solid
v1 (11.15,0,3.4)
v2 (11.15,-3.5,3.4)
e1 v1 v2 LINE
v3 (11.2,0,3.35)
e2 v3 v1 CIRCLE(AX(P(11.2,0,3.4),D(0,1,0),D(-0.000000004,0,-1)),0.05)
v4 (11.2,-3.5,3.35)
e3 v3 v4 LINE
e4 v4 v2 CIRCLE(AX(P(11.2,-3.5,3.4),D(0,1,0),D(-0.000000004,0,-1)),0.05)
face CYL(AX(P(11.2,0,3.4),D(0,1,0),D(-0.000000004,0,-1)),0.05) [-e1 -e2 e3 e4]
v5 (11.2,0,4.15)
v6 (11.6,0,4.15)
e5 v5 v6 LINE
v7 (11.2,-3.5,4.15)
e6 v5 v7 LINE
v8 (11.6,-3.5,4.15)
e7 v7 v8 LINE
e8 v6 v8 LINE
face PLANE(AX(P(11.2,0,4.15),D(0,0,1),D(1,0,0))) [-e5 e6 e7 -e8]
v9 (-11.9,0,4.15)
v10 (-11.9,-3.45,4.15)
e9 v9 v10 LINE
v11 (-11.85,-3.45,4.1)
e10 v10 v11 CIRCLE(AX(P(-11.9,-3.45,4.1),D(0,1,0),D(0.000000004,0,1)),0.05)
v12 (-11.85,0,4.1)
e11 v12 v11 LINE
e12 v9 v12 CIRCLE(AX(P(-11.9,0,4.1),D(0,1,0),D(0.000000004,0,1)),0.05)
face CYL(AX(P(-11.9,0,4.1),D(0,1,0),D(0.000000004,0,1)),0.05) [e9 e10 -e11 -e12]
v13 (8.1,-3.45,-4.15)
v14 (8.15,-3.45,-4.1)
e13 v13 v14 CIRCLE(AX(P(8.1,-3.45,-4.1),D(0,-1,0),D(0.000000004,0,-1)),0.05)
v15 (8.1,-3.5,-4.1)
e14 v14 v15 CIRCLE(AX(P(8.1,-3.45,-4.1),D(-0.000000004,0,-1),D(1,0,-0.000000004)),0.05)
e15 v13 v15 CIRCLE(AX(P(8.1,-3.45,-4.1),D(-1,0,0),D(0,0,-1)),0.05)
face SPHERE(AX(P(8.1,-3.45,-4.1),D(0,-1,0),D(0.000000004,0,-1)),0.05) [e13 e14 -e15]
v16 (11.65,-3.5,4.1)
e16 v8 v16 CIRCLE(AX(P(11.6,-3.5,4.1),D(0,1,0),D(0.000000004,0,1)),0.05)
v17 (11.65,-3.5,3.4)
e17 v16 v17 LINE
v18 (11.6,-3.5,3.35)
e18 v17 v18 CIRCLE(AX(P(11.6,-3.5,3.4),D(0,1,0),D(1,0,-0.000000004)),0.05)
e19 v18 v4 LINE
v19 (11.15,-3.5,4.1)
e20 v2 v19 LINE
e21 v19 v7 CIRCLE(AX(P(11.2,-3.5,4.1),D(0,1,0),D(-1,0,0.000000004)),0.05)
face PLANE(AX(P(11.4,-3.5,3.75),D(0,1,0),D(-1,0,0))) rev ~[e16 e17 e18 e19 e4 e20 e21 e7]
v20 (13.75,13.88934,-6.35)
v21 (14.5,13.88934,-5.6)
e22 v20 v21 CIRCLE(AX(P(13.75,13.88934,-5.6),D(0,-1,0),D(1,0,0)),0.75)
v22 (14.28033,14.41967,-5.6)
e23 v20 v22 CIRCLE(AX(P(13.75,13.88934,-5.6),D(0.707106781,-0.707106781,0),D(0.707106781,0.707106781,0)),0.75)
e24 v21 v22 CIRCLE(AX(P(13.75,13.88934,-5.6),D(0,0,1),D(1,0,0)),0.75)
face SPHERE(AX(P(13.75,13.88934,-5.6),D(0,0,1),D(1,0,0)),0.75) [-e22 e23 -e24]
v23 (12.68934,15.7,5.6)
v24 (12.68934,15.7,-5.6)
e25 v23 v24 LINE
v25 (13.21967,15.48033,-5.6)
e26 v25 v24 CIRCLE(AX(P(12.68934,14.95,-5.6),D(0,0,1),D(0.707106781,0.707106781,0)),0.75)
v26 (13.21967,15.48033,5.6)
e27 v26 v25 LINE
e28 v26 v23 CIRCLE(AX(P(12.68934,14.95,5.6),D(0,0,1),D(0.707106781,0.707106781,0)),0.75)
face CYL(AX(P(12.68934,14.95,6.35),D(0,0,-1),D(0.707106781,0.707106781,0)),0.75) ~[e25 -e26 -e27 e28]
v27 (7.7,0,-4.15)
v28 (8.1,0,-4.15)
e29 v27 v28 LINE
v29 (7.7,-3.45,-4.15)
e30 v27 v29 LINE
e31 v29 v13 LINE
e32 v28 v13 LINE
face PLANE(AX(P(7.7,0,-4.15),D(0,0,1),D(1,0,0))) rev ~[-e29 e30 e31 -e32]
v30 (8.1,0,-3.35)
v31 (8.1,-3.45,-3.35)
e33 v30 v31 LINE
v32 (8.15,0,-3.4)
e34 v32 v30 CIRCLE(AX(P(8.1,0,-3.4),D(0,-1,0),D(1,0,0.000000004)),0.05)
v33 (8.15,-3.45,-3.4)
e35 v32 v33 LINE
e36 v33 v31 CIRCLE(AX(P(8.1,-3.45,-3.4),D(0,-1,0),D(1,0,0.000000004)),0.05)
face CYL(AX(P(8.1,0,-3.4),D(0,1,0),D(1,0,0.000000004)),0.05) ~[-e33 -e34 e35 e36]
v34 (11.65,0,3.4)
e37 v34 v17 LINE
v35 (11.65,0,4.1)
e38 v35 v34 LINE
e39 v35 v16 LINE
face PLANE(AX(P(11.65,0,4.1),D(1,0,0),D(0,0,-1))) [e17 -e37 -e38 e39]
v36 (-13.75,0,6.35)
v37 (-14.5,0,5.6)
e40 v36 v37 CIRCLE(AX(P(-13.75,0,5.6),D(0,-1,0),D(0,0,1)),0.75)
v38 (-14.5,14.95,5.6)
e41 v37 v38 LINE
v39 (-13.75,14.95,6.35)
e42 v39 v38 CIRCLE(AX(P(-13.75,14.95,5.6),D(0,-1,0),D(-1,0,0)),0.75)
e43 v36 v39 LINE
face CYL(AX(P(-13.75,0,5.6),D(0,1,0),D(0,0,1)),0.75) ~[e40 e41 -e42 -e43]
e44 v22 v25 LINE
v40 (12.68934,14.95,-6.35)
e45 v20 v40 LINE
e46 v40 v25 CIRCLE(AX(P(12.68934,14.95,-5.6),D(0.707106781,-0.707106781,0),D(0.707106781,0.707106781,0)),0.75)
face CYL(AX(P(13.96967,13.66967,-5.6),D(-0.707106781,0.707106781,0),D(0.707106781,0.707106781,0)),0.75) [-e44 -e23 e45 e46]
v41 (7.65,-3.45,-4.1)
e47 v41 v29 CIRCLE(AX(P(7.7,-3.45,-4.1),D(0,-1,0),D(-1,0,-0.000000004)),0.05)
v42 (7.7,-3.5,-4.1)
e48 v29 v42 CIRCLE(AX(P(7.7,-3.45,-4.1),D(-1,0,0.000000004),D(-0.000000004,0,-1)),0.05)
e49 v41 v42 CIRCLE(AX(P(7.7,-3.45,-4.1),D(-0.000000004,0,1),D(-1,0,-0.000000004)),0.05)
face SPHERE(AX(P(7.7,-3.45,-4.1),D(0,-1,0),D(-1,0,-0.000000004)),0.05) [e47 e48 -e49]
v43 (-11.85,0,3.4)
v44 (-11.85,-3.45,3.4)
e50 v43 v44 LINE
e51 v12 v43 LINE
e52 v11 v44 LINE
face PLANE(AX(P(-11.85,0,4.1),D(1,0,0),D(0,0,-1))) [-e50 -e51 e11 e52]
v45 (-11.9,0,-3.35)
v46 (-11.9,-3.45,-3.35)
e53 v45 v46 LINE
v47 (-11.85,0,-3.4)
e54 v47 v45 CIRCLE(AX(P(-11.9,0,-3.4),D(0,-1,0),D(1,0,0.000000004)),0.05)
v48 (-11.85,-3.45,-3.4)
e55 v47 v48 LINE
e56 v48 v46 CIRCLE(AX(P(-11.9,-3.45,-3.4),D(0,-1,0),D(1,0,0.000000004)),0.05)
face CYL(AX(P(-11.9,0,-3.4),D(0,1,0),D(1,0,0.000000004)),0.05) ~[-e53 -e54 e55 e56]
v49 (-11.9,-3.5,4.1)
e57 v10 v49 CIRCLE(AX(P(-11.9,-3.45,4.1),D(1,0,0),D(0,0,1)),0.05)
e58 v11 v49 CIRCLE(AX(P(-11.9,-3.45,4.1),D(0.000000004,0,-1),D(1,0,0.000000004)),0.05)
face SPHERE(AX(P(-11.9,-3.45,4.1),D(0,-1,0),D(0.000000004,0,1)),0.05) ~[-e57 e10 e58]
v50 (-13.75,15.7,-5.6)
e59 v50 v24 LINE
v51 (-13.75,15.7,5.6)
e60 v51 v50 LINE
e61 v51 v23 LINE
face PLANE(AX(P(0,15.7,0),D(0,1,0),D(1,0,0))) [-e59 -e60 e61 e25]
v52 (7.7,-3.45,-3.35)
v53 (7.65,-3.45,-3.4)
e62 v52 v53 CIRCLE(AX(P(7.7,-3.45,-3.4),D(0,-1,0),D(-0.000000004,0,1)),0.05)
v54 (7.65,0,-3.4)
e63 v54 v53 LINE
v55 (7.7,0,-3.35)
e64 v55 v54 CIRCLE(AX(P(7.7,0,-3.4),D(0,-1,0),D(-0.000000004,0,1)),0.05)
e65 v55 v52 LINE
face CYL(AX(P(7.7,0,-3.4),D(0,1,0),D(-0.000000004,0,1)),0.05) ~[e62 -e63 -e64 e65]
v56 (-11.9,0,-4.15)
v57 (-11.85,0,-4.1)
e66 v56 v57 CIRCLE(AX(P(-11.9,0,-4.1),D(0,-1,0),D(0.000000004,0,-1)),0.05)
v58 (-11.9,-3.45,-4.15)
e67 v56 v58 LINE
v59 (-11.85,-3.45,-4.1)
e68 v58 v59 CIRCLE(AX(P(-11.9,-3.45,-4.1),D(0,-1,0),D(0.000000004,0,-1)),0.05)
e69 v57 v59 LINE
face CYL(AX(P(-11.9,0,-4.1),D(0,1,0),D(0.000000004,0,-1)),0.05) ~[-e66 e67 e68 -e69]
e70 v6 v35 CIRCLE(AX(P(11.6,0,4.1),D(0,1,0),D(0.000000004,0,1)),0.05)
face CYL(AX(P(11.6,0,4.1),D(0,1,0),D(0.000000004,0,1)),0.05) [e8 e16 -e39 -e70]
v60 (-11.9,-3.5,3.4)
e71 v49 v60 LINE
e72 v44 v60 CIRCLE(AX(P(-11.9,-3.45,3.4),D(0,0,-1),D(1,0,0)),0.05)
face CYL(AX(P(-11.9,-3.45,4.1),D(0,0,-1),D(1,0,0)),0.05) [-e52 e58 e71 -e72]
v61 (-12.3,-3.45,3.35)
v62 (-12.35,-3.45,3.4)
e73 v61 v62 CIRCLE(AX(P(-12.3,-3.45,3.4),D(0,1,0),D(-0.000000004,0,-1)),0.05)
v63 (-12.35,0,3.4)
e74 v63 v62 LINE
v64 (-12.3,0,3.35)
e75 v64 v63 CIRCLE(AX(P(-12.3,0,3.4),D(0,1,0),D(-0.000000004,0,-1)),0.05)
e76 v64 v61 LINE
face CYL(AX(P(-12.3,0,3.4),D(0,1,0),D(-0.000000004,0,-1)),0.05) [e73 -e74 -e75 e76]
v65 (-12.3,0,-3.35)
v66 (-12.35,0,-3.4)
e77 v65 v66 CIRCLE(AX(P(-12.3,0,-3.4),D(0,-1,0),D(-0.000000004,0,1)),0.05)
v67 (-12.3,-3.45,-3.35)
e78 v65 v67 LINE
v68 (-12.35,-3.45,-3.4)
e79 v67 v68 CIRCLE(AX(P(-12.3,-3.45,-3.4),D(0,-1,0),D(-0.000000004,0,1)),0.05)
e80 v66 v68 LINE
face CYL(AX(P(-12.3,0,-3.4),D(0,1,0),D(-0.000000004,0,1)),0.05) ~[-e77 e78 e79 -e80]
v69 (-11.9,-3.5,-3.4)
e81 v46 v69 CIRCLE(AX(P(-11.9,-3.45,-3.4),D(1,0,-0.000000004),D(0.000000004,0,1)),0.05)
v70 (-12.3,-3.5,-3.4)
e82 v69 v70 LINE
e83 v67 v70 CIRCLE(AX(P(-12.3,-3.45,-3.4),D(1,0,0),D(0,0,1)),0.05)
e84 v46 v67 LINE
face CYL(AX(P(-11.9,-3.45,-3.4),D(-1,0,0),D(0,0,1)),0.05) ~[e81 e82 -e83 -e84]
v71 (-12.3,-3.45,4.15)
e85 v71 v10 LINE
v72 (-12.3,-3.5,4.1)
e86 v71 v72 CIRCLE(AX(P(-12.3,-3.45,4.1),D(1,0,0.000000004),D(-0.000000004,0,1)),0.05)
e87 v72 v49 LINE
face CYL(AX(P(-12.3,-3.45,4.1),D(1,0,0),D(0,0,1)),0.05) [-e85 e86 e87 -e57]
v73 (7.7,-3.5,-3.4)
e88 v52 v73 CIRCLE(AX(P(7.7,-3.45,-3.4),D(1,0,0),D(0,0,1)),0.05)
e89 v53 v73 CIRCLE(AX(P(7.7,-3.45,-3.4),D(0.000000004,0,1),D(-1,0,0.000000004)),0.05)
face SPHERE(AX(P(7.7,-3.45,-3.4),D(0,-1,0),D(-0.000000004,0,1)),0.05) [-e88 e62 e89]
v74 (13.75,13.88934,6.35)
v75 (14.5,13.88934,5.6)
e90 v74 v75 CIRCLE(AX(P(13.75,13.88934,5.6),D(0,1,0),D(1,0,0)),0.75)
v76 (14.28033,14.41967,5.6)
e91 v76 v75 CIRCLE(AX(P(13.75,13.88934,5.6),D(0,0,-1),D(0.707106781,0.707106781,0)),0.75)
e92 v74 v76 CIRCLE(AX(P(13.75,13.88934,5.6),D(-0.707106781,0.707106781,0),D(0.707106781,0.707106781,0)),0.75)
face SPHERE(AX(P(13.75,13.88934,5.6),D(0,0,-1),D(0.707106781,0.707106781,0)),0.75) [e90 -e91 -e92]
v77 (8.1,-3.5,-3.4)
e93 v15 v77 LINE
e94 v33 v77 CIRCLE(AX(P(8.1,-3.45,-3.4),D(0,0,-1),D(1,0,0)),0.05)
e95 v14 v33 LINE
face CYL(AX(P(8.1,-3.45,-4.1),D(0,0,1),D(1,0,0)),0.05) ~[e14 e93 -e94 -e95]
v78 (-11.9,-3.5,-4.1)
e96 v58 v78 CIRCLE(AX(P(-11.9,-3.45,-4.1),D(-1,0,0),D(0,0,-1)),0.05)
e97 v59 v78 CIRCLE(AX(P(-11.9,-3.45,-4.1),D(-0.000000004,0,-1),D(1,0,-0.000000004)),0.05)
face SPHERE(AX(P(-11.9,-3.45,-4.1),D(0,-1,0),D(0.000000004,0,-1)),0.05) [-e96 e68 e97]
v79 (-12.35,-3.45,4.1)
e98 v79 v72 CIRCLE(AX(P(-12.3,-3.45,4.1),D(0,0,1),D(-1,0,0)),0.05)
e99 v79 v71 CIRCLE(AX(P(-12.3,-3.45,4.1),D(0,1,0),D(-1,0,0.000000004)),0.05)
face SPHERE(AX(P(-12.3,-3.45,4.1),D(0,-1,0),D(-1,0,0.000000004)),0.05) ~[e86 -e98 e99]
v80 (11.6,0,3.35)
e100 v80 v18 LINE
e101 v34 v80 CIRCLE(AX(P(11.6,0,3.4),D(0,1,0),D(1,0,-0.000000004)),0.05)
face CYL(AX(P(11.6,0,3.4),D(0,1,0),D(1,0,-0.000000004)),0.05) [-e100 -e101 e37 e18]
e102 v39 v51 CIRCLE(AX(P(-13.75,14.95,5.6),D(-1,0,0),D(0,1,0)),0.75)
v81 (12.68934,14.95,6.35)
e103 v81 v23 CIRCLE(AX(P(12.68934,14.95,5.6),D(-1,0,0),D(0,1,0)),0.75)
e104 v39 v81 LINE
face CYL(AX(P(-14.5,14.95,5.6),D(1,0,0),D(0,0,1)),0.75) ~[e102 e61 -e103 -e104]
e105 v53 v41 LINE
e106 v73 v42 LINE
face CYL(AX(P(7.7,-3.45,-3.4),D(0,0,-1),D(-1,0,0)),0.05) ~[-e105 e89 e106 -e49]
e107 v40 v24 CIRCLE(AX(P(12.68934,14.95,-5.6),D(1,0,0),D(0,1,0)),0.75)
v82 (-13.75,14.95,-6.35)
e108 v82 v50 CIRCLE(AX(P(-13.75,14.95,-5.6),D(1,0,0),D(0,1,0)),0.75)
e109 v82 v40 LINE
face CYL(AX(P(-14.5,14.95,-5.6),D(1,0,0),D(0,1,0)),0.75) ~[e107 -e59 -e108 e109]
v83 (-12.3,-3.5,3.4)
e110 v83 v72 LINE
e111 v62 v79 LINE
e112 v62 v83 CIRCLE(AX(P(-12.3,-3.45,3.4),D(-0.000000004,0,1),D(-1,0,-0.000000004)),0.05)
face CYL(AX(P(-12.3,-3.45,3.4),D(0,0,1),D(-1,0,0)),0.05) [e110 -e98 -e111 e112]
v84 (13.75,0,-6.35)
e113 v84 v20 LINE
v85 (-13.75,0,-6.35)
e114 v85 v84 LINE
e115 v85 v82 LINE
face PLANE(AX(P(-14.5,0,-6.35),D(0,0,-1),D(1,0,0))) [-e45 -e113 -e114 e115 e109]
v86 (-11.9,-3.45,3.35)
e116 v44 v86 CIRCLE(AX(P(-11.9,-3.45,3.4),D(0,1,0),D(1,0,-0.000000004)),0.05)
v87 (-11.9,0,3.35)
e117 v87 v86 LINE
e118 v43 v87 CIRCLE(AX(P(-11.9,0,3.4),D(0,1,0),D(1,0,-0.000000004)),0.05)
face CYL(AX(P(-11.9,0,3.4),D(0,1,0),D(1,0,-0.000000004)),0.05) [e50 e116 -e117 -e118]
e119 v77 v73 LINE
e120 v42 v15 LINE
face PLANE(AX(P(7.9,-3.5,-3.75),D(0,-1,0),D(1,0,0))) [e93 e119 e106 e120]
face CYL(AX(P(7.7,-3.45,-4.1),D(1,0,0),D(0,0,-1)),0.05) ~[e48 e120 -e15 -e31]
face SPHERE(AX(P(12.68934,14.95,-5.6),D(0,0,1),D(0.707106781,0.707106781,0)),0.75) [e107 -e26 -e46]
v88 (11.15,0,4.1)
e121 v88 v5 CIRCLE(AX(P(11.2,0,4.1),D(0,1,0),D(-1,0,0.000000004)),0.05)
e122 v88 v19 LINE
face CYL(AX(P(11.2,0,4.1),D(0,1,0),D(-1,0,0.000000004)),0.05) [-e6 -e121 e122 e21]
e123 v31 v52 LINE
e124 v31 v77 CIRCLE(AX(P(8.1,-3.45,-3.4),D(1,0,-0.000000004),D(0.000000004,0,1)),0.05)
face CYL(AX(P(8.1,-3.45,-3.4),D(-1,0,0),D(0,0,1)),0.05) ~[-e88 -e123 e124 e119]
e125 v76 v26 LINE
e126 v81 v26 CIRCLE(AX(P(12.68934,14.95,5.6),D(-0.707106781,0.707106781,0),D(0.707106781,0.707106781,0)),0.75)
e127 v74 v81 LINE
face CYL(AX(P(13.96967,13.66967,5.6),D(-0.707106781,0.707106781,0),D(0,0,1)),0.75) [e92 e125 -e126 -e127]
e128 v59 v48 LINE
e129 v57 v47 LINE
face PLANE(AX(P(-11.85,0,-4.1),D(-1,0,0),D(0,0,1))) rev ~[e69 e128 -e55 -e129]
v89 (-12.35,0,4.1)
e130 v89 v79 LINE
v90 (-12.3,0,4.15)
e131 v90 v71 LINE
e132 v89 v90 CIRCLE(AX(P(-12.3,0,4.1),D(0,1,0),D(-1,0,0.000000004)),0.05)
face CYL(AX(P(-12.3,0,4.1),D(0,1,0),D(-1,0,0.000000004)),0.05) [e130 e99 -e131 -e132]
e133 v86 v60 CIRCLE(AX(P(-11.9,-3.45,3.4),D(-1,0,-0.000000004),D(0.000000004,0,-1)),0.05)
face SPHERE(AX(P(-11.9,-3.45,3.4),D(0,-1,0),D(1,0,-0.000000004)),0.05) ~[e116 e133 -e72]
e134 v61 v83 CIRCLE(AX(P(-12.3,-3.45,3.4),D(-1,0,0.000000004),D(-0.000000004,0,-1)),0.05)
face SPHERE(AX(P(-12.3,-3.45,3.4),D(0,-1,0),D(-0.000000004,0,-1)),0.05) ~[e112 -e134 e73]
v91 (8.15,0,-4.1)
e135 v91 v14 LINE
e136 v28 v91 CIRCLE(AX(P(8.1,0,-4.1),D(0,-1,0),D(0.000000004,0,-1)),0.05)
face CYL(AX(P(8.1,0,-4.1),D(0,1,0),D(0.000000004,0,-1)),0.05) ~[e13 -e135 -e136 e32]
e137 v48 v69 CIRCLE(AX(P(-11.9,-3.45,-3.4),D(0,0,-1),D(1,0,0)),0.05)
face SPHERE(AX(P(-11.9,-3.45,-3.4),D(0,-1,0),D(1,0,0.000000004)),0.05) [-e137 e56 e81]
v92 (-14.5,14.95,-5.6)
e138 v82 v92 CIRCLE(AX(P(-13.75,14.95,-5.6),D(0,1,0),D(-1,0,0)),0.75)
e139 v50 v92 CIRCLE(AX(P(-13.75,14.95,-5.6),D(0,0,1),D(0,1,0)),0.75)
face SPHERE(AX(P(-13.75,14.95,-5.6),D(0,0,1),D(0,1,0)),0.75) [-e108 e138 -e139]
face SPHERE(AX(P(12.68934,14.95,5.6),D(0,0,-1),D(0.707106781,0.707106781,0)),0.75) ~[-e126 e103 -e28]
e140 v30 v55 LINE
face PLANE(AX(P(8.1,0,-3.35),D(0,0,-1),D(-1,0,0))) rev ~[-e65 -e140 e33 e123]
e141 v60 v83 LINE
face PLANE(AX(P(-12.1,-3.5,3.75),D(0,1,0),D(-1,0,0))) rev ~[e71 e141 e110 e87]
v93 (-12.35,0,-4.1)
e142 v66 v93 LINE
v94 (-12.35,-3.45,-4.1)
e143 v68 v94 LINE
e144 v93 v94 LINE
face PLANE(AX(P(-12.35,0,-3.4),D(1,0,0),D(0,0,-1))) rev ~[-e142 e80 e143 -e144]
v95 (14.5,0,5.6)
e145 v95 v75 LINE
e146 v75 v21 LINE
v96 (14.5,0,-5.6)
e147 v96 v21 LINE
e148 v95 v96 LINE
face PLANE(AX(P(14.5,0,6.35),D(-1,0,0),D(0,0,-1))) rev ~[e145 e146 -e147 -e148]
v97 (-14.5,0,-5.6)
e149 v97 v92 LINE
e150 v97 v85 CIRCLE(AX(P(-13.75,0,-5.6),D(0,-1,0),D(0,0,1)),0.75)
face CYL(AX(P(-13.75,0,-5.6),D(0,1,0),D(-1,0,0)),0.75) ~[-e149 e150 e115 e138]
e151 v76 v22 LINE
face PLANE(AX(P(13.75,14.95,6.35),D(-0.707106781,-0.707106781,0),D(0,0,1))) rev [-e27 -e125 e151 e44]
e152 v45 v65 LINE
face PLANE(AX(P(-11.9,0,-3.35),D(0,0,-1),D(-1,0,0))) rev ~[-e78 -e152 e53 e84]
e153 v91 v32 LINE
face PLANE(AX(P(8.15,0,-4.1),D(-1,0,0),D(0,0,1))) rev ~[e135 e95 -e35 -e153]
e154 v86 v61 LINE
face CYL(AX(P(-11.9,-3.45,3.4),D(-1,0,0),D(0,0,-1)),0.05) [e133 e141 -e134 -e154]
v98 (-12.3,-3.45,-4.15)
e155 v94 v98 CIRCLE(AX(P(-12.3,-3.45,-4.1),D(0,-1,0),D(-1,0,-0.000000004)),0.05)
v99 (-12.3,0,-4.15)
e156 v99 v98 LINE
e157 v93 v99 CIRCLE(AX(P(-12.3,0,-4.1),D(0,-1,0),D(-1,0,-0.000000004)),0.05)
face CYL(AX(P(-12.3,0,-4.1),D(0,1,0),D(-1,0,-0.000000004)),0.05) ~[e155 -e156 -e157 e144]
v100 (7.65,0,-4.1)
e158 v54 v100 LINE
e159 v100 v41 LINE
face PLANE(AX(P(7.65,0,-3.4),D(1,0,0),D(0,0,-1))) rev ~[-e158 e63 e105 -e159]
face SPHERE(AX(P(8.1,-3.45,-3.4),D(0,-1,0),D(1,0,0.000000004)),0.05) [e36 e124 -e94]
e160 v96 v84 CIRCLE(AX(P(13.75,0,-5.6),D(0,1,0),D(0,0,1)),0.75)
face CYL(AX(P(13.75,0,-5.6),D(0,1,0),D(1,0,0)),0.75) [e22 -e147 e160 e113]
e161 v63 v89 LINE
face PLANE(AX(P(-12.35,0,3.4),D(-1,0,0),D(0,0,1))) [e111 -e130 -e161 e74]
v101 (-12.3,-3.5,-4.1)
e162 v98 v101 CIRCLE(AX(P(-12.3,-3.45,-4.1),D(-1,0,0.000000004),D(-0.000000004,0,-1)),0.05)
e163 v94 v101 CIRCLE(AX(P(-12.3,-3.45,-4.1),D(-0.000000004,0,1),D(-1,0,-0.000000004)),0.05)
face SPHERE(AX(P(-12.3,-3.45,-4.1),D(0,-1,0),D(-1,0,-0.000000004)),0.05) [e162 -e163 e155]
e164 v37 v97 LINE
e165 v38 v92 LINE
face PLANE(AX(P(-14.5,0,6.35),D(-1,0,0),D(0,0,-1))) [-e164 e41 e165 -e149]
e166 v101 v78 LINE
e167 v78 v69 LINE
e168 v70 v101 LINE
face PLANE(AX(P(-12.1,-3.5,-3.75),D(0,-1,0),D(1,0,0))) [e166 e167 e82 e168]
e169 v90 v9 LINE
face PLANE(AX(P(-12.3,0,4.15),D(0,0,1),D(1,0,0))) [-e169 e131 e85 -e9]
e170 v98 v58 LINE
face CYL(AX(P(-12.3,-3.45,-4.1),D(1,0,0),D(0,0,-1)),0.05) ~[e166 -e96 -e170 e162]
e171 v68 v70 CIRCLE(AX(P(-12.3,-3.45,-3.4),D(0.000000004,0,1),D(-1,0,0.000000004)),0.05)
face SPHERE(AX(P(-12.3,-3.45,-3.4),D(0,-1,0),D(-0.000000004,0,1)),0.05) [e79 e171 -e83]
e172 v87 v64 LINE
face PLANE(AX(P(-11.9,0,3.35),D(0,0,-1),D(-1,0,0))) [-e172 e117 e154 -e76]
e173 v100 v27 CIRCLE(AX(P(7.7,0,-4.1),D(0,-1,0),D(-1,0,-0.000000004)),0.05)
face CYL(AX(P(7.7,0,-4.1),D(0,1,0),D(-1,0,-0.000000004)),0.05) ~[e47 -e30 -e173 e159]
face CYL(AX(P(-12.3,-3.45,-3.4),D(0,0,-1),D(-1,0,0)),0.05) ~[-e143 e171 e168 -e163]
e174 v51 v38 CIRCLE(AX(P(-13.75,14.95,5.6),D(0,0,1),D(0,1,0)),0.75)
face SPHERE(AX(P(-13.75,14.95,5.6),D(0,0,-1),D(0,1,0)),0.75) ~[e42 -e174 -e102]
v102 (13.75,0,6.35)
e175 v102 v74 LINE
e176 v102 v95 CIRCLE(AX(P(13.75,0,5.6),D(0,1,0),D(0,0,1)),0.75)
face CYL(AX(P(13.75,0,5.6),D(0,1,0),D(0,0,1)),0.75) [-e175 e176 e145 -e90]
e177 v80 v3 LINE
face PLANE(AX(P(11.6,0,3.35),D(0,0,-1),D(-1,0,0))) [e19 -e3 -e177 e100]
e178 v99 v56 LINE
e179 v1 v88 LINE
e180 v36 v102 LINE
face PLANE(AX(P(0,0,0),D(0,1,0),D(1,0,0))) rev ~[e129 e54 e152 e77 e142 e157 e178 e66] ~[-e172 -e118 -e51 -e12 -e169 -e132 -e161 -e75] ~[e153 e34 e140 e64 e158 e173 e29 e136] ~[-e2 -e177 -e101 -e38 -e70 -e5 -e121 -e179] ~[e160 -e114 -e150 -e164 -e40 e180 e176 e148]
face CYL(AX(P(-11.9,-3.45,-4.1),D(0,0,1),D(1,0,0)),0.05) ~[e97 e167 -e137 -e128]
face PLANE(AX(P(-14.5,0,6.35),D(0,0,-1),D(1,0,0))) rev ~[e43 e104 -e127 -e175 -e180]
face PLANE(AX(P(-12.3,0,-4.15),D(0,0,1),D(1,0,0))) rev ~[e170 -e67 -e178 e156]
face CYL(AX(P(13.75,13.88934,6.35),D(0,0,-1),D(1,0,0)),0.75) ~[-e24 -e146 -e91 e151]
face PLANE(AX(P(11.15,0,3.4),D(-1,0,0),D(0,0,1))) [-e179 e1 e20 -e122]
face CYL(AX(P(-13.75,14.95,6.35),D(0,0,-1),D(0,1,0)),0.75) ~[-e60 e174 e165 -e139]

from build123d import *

# Parameters (mm, degrees)
SKETCH_1_W      = 29
SKETCH_1_H      = 12.7
EXTRUDE_1_DEPTH = 15.7
EXTRUDE_2_DEPTH = 3.5
FILLET_1_R      = 0.05
CHAMFER_1_SIZE  = 1.5
FILLET_2_R      = 0.75


with BuildPart() as part:
    # Эскиз1 → Бобышка-Вытянуть1 (new body)
    with BuildSketch(Plane(origin=(0, 0, 0), x_dir=(1, 0, 0), z_dir=(0, 1, 0))):
        Rectangle(SKETCH_1_W, SKETCH_1_H)
    extrude(amount=EXTRUDE_1_DEPTH)

    # Эскиз2 → Бобышка-Вытянуть2 (add)
    with BuildSketch(Plane.XZ):
        with BuildLine():
            Line((-12.3, 4.15), (-11.9, 4.15))
            ThreePointArc((-11.9, 4.15), (-11.864644661, 4.135355339), (-11.85, 4.1))
            Line((-11.85, 4.1), (-11.85, 3.4))
            ThreePointArc((-11.85, 3.4), (-11.864644661, 3.364644661), (-11.9, 3.35))
            Line((-11.9, 3.35), (-12.3, 3.35))
            ThreePointArc((-12.3, 3.35), (-12.335355339, 3.364644661), (-12.35, 3.4))
            Line((-12.35, 3.4), (-12.35, 4.1))
            ThreePointArc((-12.35, 4.1), (-12.335355339, 4.135355339), (-12.3, 4.15))
        make_face()
        with BuildLine():
            Line((7.65, -3.4), (7.65, -4.1))
            ThreePointArc((7.65, -4.1), (7.664644661, -4.135355339), (7.7, -4.15))
            Line((7.7, -4.15), (8.1, -4.15))
            ThreePointArc((8.1, -4.15), (8.135355339, -4.135355339), (8.15, -4.1))
            Line((8.15, -4.1), (8.15, -3.4))
            ThreePointArc((8.15, -3.4), (8.135355339, -3.364644661), (8.1, -3.35))
            Line((8.1, -3.35), (7.7, -3.35))
            ThreePointArc((7.7, -3.35), (7.664644661, -3.364644661), (7.65, -3.4))
        make_face()
        with BuildLine():
            Line((-12.35, -3.4), (-12.35, -4.1))
            ThreePointArc((-12.35, -4.1), (-12.335355339, -4.135355339), (-12.3, -4.15))
            Line((-12.3, -4.15), (-11.9, -4.15))
            ThreePointArc((-11.9, -4.15), (-11.864644661, -4.135355339), (-11.85, -4.1))
            Line((-11.85, -4.1), (-11.85, -3.4))
            ThreePointArc((-11.85, -3.4), (-11.864644661, -3.364644661), (-11.9, -3.35))
            Line((-11.9, -3.35), (-12.3, -3.35))
            ThreePointArc((-12.3, -3.35), (-12.335355339, -3.364644661), (-12.35, -3.4))
        make_face()
        with BuildLine():
            Line((11.2, 4.15), (11.6, 4.15))
            ThreePointArc((11.6, 4.15), (11.635355339, 4.135355339), (11.65, 4.1))
            Line((11.65, 4.1), (11.65, 3.4))
            ThreePointArc((11.65, 3.4), (11.635355339, 3.364644661), (11.6, 3.35))
            Line((11.6, 3.35), (11.2, 3.35))
            ThreePointArc((11.2, 3.35), (11.164644661, 3.364644661), (11.15, 3.4))
            Line((11.15, 3.4), (11.15, 4.1))
            ThreePointArc((11.15, 4.1), (11.164644661, 4.135355339), (11.2, 4.15))
        make_face()
    extrude(amount=EXTRUDE_2_DEPTH)

    # Скругление1
    fillet_1_edges = [part.edges().sort_by_distance(p)[0] for p in [
        (-12.335355339, -3.5, 3.364644661),
        (-12.1, -3.5, 3.35),
        (-11.864644661, -3.5, 3.364644661),
        (-11.85, -3.5, 3.75),
        (-11.864644661, -3.5, 4.135355339),
        (-12.1, -3.5, 4.15),
        (-12.335355339, -3.5, 4.135355339),
        (-12.35, -3.5, 3.75),
        (7.664644661, -3.5, -4.135355339),
        (7.9, -3.5, -4.15),
        (8.135355339, -3.5, -4.135355339),
        (8.15, -3.5, -3.75),
        (8.135355339, -3.5, -3.364644661),
        (7.9, -3.5, -3.35),
        (7.664644661, -3.5, -3.364644661),
        (7.65, -3.5, -3.75),
        (-12.335355339, -3.5, -4.135355339),
        (-12.1, -3.5, -4.15),
        (-11.864644661, -3.5, -4.135355339),
        (-11.85, -3.5, -3.75),
        (-11.864644661, -3.5, -3.364644661),
        (-12.1, -3.5, -3.35),
        (-12.335355339, -3.5, -3.364644661),
        (-12.35, -3.5, -3.75),
    ]]
    fillet(fillet_1_edges, radius=FILLET_1_R)

    # Фаска1
    chamfer_1_edges = [part.edges().sort_by_distance(p)[0] for p in [
        (14.5, 15.7, 0),
    ]]
    chamfer(chamfer_1_edges, length=CHAMFER_1_SIZE)

    # Скругление2
    fillet_2_edges = [part.edges().sort_by_distance(p)[0] for p in [
        (-14.5, 15.7, 0),
        (-0.75, 15.7, 6.35),
        (-0.75, 15.7, -6.35),
        (13, 15.7, 0),
        (14.5, 7.1, -6.35),
        (13.75, 14.95, -6.35),
        (14.5, 7.1, 6.35),
        (14.5, 14.2, 0),
        (13.75, 14.95, 6.35),
        (-14.5, 7.85, 6.35),
        (-14.5, 7.85, -6.35),
    ]]
    fillet(fillet_2_edges, radius=FILLET_2_R)


solid = part.part
